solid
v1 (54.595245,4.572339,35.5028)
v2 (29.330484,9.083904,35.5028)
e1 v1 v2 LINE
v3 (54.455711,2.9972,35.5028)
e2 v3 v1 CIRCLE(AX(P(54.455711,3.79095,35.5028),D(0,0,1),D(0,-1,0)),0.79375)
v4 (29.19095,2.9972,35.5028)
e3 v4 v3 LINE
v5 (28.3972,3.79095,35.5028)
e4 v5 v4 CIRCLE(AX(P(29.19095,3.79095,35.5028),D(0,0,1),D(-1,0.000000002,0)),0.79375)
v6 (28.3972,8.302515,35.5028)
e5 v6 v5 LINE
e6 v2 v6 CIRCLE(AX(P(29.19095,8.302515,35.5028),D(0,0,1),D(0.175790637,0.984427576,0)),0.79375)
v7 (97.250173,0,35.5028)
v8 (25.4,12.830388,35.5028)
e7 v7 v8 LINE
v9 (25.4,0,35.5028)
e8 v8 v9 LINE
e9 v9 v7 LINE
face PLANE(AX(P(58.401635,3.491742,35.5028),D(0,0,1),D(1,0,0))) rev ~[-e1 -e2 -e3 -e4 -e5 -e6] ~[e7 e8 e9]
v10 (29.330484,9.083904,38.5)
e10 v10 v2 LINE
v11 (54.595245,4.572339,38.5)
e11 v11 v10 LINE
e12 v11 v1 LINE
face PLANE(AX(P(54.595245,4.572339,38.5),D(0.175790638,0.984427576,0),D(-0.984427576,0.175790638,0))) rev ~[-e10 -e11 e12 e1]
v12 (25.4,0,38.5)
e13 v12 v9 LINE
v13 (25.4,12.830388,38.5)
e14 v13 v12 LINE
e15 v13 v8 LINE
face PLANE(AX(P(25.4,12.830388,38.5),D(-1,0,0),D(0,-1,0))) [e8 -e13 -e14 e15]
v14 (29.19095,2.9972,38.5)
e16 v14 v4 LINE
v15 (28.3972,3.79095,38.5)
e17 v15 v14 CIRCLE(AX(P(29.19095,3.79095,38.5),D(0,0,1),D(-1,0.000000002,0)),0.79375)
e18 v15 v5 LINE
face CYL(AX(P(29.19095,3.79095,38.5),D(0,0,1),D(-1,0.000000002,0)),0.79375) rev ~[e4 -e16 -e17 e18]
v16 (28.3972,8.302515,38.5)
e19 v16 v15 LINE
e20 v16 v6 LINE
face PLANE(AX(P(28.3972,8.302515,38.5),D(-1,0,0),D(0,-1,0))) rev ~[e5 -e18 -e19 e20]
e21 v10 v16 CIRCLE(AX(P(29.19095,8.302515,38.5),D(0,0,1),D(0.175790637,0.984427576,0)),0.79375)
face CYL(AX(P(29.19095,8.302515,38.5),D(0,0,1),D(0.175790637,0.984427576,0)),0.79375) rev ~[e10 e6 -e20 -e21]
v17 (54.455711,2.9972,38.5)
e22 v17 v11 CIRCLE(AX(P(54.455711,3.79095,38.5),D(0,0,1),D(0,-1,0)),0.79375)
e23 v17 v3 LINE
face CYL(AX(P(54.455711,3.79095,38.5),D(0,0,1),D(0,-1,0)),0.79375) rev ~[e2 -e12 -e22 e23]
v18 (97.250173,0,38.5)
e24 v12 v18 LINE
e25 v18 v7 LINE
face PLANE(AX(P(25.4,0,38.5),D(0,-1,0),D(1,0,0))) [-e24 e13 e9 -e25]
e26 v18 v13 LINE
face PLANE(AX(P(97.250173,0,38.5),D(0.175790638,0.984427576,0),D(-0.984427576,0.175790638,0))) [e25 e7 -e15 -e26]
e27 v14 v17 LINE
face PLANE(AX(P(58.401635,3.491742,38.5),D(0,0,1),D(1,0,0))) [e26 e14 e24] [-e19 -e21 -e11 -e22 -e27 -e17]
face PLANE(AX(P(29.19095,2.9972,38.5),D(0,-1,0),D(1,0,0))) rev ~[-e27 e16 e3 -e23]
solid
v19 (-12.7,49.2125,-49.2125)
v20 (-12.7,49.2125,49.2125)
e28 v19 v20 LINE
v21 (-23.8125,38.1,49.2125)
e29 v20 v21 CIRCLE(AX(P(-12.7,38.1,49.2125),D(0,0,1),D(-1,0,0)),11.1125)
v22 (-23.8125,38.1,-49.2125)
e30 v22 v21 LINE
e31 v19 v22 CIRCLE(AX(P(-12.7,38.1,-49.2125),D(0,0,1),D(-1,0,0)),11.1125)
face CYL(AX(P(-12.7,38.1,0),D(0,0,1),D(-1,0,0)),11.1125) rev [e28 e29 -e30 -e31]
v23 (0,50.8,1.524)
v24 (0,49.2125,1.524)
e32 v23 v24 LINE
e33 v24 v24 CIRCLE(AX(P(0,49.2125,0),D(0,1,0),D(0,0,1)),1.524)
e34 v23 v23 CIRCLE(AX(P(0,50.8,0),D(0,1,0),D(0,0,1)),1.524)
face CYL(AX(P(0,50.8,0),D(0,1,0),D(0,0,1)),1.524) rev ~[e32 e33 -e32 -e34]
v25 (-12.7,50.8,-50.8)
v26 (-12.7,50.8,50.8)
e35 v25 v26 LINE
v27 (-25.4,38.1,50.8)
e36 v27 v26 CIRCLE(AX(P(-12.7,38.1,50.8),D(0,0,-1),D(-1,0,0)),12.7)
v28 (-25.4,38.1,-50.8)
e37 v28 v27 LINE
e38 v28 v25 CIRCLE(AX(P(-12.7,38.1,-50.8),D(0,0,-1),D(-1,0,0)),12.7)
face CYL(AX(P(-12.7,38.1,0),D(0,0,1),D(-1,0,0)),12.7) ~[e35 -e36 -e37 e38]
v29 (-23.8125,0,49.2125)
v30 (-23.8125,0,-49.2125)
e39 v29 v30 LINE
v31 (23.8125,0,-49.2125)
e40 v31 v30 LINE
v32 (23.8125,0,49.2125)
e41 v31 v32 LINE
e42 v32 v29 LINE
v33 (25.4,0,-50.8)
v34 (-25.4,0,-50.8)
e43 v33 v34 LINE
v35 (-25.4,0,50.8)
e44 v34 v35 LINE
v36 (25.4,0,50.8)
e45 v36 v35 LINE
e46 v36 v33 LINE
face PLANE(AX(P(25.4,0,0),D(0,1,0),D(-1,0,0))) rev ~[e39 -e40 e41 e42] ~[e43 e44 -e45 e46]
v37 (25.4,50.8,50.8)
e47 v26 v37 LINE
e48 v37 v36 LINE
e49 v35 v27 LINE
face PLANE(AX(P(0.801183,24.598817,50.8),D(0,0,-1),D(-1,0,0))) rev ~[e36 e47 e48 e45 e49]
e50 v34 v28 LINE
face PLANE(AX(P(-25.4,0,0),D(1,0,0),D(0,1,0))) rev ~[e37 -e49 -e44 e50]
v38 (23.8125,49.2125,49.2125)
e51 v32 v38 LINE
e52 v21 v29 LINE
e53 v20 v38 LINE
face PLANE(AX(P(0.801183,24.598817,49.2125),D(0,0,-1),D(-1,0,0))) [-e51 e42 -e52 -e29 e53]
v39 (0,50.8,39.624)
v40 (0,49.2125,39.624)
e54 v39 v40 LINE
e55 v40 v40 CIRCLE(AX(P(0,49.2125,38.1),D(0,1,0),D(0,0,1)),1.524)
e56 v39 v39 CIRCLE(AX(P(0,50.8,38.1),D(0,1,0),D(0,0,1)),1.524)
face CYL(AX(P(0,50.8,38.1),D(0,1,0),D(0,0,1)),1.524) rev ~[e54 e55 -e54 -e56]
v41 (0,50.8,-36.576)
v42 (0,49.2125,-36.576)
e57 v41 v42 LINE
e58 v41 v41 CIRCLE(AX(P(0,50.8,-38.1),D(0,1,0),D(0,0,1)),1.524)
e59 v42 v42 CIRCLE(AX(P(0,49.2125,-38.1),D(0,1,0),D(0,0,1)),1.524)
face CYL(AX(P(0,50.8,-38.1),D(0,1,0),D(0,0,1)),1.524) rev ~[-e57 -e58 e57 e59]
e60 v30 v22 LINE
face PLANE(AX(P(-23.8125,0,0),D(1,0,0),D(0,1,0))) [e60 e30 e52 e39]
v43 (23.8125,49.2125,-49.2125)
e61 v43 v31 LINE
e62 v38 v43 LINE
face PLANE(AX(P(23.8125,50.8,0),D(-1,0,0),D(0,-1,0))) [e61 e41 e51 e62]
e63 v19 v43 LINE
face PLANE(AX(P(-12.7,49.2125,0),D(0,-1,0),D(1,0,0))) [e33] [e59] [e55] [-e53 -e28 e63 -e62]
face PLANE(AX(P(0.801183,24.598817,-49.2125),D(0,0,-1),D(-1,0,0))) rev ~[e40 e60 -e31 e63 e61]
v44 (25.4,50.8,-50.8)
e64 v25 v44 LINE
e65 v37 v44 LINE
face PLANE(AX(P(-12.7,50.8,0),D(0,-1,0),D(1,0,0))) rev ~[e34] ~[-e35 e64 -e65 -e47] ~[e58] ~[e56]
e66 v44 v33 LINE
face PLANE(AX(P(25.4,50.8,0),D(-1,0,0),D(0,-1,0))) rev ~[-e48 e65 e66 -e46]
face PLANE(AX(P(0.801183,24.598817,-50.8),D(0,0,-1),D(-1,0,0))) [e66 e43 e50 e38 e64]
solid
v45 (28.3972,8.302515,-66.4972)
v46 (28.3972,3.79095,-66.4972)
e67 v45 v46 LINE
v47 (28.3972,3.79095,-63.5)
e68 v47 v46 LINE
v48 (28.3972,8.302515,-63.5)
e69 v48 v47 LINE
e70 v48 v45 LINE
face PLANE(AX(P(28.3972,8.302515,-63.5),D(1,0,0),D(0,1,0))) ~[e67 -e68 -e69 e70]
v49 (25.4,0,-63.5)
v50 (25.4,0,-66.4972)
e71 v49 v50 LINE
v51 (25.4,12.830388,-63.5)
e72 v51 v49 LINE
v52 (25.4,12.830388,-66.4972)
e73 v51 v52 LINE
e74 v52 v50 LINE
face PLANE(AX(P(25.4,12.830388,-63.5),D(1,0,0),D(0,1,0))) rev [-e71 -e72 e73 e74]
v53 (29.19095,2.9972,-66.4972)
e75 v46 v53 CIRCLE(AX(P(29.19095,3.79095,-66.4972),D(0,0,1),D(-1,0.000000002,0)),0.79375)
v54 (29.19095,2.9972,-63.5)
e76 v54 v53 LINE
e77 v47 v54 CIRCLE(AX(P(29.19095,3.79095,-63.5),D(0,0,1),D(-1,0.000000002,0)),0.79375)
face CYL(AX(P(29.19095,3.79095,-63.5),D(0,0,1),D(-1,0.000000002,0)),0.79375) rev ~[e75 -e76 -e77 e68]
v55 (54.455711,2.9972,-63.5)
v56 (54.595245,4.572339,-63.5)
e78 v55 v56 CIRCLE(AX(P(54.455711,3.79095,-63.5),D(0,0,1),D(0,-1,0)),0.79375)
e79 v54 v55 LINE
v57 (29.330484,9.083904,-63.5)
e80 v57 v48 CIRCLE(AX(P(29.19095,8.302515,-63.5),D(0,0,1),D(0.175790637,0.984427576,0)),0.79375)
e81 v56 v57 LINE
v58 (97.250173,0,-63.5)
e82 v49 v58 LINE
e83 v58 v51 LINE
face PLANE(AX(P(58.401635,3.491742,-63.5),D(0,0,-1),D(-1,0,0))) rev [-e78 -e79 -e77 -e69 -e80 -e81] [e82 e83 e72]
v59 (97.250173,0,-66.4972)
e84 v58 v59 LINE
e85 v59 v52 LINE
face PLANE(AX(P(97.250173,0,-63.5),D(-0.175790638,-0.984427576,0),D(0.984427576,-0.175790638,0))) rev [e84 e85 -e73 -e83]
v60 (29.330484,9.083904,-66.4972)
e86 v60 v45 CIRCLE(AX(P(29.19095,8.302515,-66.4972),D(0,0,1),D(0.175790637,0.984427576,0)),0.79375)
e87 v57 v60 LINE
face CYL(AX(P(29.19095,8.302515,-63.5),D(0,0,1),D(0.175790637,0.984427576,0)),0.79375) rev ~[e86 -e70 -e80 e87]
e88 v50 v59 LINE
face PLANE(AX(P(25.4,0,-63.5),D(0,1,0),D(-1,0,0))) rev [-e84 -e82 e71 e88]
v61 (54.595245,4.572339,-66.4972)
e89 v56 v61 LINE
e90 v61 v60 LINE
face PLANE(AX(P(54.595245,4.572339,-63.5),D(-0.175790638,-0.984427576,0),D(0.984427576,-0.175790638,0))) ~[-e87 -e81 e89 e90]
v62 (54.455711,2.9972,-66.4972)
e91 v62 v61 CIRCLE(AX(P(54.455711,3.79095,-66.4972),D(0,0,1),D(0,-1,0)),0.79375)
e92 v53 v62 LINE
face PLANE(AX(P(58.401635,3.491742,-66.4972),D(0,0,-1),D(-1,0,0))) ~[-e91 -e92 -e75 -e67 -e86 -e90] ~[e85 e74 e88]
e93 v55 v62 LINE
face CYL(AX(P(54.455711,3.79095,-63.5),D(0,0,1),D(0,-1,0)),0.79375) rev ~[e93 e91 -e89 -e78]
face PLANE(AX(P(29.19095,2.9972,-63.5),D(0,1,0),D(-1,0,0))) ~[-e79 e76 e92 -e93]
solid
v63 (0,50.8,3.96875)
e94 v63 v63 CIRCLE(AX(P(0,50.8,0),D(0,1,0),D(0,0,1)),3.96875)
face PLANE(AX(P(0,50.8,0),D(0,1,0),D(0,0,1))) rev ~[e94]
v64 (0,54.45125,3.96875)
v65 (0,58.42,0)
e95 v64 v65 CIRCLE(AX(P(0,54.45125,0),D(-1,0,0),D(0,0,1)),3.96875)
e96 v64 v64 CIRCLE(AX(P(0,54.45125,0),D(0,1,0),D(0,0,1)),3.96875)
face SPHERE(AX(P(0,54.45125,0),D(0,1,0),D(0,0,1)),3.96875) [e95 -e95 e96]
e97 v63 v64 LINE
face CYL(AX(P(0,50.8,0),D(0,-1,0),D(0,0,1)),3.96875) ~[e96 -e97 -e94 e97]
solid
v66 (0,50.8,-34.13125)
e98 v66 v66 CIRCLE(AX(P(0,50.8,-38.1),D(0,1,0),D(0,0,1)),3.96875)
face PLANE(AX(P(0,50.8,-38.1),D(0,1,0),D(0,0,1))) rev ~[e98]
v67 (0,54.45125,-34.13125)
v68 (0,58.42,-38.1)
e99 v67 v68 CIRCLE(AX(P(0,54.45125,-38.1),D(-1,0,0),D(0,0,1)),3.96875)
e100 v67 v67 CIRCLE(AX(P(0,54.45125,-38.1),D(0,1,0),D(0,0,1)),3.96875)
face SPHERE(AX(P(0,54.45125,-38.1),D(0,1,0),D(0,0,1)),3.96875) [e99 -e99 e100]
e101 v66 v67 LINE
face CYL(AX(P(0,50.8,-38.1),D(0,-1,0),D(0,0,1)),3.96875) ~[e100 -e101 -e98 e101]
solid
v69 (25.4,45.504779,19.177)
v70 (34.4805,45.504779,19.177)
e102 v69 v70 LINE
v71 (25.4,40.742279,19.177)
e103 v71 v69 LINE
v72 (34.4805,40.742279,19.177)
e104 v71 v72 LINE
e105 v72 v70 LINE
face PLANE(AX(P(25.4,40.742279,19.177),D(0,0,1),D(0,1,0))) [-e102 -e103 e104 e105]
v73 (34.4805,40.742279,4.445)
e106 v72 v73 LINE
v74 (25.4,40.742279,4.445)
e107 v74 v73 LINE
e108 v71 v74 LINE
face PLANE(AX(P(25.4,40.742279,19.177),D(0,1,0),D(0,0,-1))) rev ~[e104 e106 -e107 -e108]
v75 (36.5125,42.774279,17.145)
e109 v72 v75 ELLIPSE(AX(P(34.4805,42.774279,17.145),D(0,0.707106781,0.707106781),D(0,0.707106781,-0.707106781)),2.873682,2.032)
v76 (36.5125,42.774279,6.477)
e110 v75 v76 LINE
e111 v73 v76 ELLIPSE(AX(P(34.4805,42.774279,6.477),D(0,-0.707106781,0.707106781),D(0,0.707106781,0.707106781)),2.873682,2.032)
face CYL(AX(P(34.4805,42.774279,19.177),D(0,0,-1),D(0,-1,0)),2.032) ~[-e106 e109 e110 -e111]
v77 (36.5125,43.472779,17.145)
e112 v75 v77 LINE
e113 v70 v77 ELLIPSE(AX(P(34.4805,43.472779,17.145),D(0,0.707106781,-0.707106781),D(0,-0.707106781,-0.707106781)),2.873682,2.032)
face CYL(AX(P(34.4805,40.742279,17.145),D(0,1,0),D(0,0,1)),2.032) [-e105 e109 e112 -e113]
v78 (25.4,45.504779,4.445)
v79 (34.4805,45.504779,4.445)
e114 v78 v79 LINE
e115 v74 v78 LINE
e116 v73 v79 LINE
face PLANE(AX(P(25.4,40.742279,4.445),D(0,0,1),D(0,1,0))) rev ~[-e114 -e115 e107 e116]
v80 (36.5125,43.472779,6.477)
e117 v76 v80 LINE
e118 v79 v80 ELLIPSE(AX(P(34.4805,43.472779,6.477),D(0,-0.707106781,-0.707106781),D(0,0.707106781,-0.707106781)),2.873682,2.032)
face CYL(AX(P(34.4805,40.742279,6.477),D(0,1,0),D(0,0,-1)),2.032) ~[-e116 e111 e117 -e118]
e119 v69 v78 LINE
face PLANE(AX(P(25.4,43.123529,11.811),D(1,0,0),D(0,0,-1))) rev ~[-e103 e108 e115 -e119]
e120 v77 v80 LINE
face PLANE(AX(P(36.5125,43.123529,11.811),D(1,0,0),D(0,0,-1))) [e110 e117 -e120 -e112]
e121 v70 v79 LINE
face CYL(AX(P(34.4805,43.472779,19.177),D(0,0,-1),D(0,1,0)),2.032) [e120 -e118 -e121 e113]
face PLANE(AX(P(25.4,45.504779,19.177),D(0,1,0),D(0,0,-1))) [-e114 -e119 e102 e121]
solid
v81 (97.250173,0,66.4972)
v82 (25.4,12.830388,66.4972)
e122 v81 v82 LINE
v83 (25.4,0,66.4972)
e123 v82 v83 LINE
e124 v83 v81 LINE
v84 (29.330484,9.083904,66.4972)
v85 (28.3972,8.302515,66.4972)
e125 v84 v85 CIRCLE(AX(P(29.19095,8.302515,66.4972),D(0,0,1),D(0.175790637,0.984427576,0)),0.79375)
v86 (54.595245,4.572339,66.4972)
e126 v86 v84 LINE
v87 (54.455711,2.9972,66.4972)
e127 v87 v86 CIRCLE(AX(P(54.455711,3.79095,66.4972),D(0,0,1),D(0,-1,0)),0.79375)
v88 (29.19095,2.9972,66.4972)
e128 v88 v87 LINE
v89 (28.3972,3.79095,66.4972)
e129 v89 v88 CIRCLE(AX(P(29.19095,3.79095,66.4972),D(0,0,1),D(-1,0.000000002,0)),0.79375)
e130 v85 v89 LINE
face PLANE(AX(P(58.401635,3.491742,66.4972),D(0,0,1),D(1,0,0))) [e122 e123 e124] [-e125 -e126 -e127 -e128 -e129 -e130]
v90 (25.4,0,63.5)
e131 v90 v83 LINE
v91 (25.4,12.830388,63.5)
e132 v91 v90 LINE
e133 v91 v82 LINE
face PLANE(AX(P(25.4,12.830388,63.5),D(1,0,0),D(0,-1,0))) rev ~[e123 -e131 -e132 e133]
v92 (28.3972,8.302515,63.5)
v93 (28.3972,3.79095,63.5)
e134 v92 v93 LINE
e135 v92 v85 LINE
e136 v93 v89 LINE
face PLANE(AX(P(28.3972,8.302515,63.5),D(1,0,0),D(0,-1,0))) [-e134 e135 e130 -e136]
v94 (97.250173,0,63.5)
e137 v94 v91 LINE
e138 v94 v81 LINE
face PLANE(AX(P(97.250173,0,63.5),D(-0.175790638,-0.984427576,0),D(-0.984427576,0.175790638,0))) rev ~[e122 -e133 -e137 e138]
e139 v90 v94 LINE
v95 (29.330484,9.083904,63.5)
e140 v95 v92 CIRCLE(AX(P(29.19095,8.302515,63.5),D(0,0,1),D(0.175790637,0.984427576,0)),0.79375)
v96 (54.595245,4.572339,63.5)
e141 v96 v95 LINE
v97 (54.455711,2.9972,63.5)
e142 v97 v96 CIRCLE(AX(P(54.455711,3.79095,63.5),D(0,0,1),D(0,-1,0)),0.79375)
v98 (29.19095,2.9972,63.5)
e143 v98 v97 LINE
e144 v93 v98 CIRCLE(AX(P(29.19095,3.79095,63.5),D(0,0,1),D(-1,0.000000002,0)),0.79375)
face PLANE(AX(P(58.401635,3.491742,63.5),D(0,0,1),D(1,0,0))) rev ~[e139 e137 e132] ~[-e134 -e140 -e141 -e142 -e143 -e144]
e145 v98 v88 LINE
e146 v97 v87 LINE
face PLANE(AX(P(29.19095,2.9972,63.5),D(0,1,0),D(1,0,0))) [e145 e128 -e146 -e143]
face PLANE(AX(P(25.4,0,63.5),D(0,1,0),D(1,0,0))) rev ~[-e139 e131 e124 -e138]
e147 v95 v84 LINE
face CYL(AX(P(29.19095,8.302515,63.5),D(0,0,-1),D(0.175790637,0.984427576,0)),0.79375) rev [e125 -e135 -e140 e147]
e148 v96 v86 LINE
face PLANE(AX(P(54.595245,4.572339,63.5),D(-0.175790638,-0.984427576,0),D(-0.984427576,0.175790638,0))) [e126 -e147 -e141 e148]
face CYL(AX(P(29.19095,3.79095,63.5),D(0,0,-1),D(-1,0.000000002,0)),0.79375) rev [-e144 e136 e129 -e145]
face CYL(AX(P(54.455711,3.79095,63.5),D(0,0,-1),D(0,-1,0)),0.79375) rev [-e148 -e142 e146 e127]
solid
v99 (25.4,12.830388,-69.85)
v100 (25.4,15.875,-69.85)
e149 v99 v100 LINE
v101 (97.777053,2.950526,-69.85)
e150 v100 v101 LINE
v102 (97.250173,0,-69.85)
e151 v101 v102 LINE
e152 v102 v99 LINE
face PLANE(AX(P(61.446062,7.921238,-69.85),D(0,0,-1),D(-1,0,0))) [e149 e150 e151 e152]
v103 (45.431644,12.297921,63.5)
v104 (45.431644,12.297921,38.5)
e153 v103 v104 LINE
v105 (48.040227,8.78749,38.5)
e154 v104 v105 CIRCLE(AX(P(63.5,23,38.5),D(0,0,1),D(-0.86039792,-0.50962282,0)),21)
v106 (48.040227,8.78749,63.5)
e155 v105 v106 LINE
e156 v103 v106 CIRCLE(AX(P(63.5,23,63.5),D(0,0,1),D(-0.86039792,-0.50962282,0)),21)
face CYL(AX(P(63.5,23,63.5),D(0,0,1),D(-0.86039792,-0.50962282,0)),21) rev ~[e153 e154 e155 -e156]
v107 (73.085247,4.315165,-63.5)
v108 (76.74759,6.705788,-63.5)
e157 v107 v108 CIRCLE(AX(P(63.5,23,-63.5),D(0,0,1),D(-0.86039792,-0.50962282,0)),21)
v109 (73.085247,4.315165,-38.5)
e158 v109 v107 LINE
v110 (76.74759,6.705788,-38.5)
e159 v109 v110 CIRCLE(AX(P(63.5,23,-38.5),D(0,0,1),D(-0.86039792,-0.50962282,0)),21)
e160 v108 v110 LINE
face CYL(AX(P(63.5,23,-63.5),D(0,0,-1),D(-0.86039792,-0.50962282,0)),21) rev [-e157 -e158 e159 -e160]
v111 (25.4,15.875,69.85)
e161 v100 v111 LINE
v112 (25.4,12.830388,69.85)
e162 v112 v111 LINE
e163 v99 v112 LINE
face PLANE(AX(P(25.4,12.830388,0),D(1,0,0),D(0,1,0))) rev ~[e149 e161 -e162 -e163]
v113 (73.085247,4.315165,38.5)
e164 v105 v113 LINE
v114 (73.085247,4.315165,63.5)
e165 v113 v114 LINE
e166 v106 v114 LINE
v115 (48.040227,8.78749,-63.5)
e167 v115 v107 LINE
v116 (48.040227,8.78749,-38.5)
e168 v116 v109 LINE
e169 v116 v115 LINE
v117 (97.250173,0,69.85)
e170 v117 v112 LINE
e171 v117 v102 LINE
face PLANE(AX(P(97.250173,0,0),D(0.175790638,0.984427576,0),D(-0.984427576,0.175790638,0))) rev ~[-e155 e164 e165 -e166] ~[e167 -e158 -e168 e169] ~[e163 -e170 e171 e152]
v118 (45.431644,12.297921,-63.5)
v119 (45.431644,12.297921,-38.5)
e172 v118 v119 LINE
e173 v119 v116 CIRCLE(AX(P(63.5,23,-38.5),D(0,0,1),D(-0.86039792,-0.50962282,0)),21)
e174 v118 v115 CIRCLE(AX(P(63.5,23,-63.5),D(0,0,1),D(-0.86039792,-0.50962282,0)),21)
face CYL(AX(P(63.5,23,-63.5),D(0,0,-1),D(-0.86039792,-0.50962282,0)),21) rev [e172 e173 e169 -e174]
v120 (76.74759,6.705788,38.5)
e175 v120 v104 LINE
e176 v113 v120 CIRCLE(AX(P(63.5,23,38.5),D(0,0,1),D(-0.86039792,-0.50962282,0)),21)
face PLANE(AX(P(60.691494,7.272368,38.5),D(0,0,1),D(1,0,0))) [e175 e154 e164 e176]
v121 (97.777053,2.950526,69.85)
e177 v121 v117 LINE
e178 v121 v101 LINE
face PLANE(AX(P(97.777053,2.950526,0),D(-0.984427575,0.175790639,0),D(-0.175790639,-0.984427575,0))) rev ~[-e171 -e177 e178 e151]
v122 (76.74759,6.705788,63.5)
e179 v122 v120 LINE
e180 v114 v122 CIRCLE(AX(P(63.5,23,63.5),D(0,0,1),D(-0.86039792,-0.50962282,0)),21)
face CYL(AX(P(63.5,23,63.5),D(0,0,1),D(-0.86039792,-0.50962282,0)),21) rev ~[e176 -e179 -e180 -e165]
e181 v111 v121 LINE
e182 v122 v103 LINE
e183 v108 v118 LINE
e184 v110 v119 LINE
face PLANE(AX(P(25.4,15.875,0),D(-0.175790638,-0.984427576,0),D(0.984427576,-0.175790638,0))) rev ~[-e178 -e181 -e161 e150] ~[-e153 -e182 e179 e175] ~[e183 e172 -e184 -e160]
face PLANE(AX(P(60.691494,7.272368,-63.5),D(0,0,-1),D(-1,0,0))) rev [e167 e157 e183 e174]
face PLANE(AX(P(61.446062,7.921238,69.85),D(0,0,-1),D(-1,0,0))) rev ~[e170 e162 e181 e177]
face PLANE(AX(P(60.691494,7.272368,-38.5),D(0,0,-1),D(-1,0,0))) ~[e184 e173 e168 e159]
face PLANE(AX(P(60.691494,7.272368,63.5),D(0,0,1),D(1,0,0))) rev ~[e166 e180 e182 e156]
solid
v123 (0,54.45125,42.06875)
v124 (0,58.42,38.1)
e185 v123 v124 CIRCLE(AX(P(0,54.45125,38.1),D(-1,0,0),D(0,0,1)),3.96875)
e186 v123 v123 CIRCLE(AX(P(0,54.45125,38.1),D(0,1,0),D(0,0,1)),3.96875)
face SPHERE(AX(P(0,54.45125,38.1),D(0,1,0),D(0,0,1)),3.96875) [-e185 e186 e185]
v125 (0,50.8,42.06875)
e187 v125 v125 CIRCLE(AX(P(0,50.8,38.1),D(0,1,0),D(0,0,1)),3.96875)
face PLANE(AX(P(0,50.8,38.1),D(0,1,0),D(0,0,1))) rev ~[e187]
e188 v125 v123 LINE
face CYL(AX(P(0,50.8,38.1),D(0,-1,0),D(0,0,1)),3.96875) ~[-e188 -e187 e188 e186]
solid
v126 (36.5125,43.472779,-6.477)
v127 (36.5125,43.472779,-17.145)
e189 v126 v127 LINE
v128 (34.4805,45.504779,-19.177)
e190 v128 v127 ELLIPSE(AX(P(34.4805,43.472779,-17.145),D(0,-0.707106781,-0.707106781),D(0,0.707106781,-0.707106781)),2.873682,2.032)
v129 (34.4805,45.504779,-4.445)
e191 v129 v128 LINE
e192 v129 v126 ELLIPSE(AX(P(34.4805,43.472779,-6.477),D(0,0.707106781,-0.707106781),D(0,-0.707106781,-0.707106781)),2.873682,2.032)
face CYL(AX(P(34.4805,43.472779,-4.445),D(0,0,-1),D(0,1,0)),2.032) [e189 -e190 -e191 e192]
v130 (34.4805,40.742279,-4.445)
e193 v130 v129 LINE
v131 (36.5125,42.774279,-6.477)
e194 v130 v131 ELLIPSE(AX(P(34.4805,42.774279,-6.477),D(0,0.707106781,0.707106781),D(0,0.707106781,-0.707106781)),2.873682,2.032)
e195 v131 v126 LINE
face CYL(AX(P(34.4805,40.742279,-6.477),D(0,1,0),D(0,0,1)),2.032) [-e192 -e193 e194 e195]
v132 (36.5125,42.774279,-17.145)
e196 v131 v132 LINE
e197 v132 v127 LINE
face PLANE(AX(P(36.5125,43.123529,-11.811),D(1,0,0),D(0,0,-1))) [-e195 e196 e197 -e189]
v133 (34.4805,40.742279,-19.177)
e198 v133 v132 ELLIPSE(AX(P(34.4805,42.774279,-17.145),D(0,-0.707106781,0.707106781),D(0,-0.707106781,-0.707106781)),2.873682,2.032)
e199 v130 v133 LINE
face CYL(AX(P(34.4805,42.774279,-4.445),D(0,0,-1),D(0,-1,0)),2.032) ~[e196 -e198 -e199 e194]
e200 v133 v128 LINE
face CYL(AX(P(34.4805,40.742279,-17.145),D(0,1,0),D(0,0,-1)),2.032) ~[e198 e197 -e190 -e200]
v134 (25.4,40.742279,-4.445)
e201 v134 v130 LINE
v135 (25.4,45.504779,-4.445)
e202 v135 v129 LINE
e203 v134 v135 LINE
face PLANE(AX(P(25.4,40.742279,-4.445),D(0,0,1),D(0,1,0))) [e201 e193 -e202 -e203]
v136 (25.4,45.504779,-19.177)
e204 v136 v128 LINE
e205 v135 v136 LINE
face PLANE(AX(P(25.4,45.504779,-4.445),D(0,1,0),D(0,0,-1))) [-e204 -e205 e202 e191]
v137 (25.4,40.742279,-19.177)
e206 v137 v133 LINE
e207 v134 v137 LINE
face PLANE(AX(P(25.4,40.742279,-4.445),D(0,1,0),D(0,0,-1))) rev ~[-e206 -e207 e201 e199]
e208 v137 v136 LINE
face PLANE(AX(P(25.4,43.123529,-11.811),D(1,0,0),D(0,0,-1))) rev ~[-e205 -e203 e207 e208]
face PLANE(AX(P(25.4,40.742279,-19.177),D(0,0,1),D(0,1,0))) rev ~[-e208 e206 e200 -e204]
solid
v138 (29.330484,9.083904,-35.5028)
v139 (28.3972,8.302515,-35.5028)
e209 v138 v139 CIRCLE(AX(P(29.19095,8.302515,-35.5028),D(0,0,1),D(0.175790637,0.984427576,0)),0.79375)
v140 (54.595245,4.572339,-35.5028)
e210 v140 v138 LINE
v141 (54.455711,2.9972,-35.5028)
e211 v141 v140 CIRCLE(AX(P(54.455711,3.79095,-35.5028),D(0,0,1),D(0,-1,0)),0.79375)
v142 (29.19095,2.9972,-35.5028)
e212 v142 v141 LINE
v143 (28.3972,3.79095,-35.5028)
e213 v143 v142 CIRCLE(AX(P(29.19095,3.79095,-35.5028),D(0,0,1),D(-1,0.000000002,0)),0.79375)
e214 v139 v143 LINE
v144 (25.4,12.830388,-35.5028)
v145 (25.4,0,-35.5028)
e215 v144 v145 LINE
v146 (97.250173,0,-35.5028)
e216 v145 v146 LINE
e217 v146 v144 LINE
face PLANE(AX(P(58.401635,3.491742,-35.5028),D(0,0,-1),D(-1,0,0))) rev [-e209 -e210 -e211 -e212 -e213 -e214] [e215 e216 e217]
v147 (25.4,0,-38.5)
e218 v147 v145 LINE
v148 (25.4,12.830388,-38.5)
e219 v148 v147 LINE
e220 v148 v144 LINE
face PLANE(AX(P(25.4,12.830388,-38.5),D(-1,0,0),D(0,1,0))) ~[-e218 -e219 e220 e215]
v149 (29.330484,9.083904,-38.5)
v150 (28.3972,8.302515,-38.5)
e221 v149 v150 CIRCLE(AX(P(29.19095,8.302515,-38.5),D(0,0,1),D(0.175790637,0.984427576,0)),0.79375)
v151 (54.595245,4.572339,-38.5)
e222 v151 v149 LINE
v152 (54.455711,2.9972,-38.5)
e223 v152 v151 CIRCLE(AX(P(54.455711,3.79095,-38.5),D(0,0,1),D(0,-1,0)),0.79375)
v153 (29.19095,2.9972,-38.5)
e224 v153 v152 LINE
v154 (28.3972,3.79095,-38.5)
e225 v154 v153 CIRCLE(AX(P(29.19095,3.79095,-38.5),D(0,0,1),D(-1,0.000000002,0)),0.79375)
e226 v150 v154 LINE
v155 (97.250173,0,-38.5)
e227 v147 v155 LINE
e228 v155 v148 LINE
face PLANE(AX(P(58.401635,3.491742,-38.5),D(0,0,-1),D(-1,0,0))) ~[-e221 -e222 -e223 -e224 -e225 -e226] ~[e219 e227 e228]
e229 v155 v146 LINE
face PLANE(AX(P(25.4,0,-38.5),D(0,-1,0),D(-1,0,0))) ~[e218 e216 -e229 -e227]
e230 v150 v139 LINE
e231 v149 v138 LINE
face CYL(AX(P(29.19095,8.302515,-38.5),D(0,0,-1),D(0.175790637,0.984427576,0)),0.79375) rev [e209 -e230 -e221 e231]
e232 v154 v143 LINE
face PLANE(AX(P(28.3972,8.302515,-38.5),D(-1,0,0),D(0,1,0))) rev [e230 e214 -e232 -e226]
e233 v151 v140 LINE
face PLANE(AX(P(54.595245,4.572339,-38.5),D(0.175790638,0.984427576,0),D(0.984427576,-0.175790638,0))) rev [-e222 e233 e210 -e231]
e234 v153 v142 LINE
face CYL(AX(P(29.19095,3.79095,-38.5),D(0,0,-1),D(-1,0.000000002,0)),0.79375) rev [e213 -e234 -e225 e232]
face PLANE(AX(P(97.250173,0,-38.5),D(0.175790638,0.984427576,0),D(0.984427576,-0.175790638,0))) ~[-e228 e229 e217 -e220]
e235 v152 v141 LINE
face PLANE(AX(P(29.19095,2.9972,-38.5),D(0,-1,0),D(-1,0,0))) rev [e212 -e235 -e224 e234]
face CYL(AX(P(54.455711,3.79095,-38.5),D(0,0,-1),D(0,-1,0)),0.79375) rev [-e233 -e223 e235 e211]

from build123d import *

# Parameters (mm, degrees)
EXTRUDE1_DEPTH   = 50.8
SHELL1_T         = -1.5875
EXTRUDE2_REACH   = 52.8
SKETCH2_R        = 1.524
EXTRUDE3_DEPTH   = 69.85
EXTRUDE4_DEPTH   = 25
SKETCH5_W        = 14.732
SKETCH5_H        = 4.7625
EXTRUDE5_DEPTH   = 11.1125
EXTRUDE5_2_DEPTH = 11.1125
FILLET3_R        = 2.032
FILLET4_R        = 2.032
SKETCH6_R        = 3.96875
EXTRUDE6_DEPTH   = 7.62
EXTRUDE6_2_DEPTH = 7.62
EXTRUDE6_3_DEPTH = 7.62
FILLET5_R        = 3.96875
FILLET6_R        = 3.96875
FILLET7_R        = 3.96875
EXTRUDE7_DEPTH   = 2.9972
EXTRUDE8_DEPTH   = 2.9972


with BuildPart() as part:
    # Sketch1 → Extrude1 (new body, symmetric)
    with BuildSketch(Plane.XY):
        with BuildLine():
            Line((-12.7, 50.8), (25.4, 50.8))
            Line((25.4, 50.8), (25.4, 0))
            Line((25.4, 0), (-25.4, 0))
            Line((-25.4, 0), (-25.4, 38.1))
            ThreePointArc((-25.4, 38.1), (-21.680256121, 47.080256121), (-12.7, 50.8))
        make_face()
    extrude(amount=EXTRUDE1_DEPTH, both=True)

    # Shell1
    shell1_openings = [part.faces().sort_by_distance(p)[0] for p in [
        (0, 0, 0),
    ]]
    offset(amount=SHELL1_T, openings=shell1_openings, kind=Kind.INTERSECTION)

    # Sketch2 → Extrude2 (cut, up to next)
    with BuildSketch(Plane(origin=(0, 50.8, 0), x_dir=(-1, 0, 0), z_dir=(0, 1, 0)), mode=Mode.PRIVATE) as extrude2_sk1:
        with Locations(Location((0, 0, 0), (0, 0, 90))):  # turned: the seam where the file's is
            Circle(SKETCH2_R)
    extrude2_tool1 = extrude(extrude2_sk1.sketch, amount=-EXTRUDE2_REACH, mode=Mode.PRIVATE) & part.part
    add(extrude2_tool1.solids().sort_by_distance((0, 50.8, 0))[0], mode=Mode.SUBTRACT)
    # Sketch2 → Extrude2 (cut, up to next)
    with BuildSketch(Plane(origin=(0, 50.8, 0), x_dir=(-1, 0, 0), z_dir=(0, 1, 0)), mode=Mode.PRIVATE) as extrude2_sk2:
        with Locations(Location((0, -38.1, 0), (0, 0, 90))):  # turned: the seam where the file's is
            Circle(SKETCH2_R)
    extrude2_tool2 = extrude(extrude2_sk2.sketch, amount=-EXTRUDE2_REACH, mode=Mode.PRIVATE) & part.part
    add(extrude2_tool2.solids().sort_by_distance((0, 50.8, -38.1))[0], mode=Mode.SUBTRACT)
    # Sketch2 → Extrude2 (cut, up to next)
    with BuildSketch(Plane(origin=(0, 50.8, 0), x_dir=(-1, 0, 0), z_dir=(0, 1, 0)), mode=Mode.PRIVATE) as extrude2_sk3:
        with Locations(Location((0, 38.1, 0), (0, 0, 90))):  # turned: the seam where the file's is
            Circle(SKETCH2_R)
    extrude2_tool3 = extrude(extrude2_sk3.sketch, amount=-EXTRUDE2_REACH, mode=Mode.PRIVATE) & part.part
    add(extrude2_tool3.solids().sort_by_distance((0, 50.8, 38.1))[0], mode=Mode.SUBTRACT)


with BuildPart() as body_2:
    # Sketch3 → Extrude3 (new body, symmetric)
    with BuildSketch(Plane.XY):
        Polygon((25.4, 15.875), (97.777052556, 2.950526329), (97.250172854, 0), (25.4, 12.83038801), align=None)
    extrude(amount=EXTRUDE3_DEPTH, both=True)

    # Sketch4 → Extrude4 (cut)
    with BuildSketch(Plane.XY.offset(63.5)):
        with BuildLine():
            Line((76.747589944, 6.70578751), (45.431643678, 12.297920772))
            ThreePointArc((45.431643678, 12.297920772), (59.808396592, 2.327020914), (76.747589944, 6.70578751))
        make_face()
    extrude4 = extrude(amount=-EXTRUDE4_DEPTH, mode=Mode.SUBTRACT)

    # Mirror1: Extrude4 across plane
    add(extrude4.mirror(Plane.XY), mode=Mode.SUBTRACT)


with BuildPart() as body_3:
    # Sketch5 → Extrude5 (new body)
    with BuildSketch(Plane(origin=(25.4, 0, 0), x_dir=(0, 0, -1), z_dir=(1, 0, 0))):
        with Locations((-11.811, 43.123528776)):
            Rectangle(SKETCH5_W, SKETCH5_H)
    extrude(amount=EXTRUDE5_DEPTH)

    # Fillet3
    fillet3_edges = [body_3.edges().sort_by_distance(p)[0] for p in [
        (36.5125, 43.123528776, 4.445),
        (36.5125, 45.504778776, 11.811),
        (36.5125, 43.123528776, 19.177),
        (36.5125, 40.742278776, 11.811),
    ]]
    fillet(fillet3_edges, radius=FILLET3_R)


with BuildPart() as body_4:
    # Sketch5 → Extrude5 2 (new body)
    with BuildSketch(Plane(origin=(25.4, 0, 0), x_dir=(0, 0, -1), z_dir=(1, 0, 0))):
        with Locations((11.811, 43.123528776)):
            Rectangle(SKETCH5_W, SKETCH5_H)
    extrude(amount=EXTRUDE5_2_DEPTH)

    # Fillet4
    fillet4_edges = [body_4.edges().sort_by_distance(p)[0] for p in [
        (36.5125, 40.742278776, -11.811),
        (36.5125, 43.123528776, -19.177),
        (36.5125, 45.504778776, -11.811),
        (36.5125, 43.123528776, -4.445),
    ]]
    fillet(fillet4_edges, radius=FILLET4_R)


with BuildPart() as body_5:
    # Sketch6 → Extrude6 (new body)
    with BuildSketch(Plane(origin=(0, 50.8, 0), x_dir=(1, 0, 0), z_dir=(0, 1, 0))):
        with Locations(Location((0, 38.1, 0), (0, 0, 270))):  # turned: the seam where the file's is
            Circle(SKETCH6_R)
    extrude(amount=EXTRUDE6_DEPTH)

    # Fillet7
    fillet7_edges = [body_5.edges().sort_by_distance(p)[0] for p in [
        (0, 58.42, -42.06875),
    ]]
    fillet(fillet7_edges, radius=FILLET7_R)


with BuildPart() as body_6:
    # Sketch6 → Extrude6 2 (new body)
    with BuildSketch(Plane(origin=(0, 50.8, 0), x_dir=(1, 0, 0), z_dir=(0, 1, 0))):
        with Locations(Location((0, 0, 0), (0, 0, 270))):  # turned: the seam where the file's is
            Circle(SKETCH6_R)
    extrude(amount=EXTRUDE6_2_DEPTH)

    # Fillet6
    fillet6_edges = [body_6.edges().sort_by_distance(p)[0] for p in [
        (0, 58.42, -3.96875),
    ]]
    fillet(fillet6_edges, radius=FILLET6_R)


with BuildPart() as body_7:
    # Sketch6 → Extrude6 3 (new body)
    with BuildSketch(Plane(origin=(0, 50.8, 0), x_dir=(1, 0, 0), z_dir=(0, 1, 0))):
        with Locations(Location((0, -38.1, 0), (0, 0, 270))):  # turned: the seam where the file's is
            Circle(SKETCH6_R)
    extrude(amount=EXTRUDE6_3_DEPTH)

    # Fillet5
    fillet5_edges = [body_7.edges().sort_by_distance(p)[0] for p in [
        (0, 58.42, 34.13125),
    ]]
    fillet(fillet5_edges, radius=FILLET5_R)


with BuildPart() as body_8:
    # Sketch7 → Extrude7 (new body)
    with BuildSketch(Plane.XY.offset(63.5)):
        Polygon((25.4, 12.83038801), (25.4, 0), (97.250172854, 0), align=None)
        with BuildLine():
            Line((54.595245135, 4.572339388), (29.330483819, 9.083903909))
            ThreePointArc((29.330483819, 9.083903909), (28.681399172, 8.911117031), (28.3972, 8.302514521))
            Line((28.3972, 8.302514521), (28.3972, 3.79095))
            ThreePointArc((28.3972, 3.79095), (28.629683992, 3.229683992), (29.19095, 2.9972))
            Line((29.19095, 2.9972), (54.455711316, 2.9972))
            ThreePointArc((54.455711316, 2.9972), (55.246365124, 3.720909884), (54.595245135, 4.572339388))
        make_face(mode=Mode.SUBTRACT)
    extrude(amount=EXTRUDE7_DEPTH)


with BuildPart() as body_9:
    # Sketch8 → Extrude8 (new body)
    with BuildSketch(Plane.XY.offset(38.5)):
        Polygon((97.250172854, 0), (25.4, 12.83038801), (25.4, 0), align=None)
        with BuildLine():
            Line((28.3972, 8.302514521), (28.3972, 3.79095))
            ThreePointArc((28.3972, 3.79095), (28.629683992, 3.229683992), (29.19095, 2.9972))
            Line((29.19095, 2.9972), (54.455711316, 2.9972))
            ThreePointArc((54.455711316, 2.9972), (55.246365124, 3.720909884), (54.595245135, 4.572339388))
            Line((54.595245135, 4.572339388), (29.330483819, 9.083903909))
            ThreePointArc((29.330483819, 9.083903909), (28.681399172, 8.911117031), (28.3972, 8.302514521))
        make_face(mode=Mode.SUBTRACT)
    extrude(amount=-EXTRUDE8_DEPTH)


with BuildPart() as body_10:
    # Mirror2: mirrored copy
    add(body_8.part.mirror(Plane.XY))


with BuildPart() as body_11:
    # Mirror2 2: mirrored copy
    add(body_9.part.mirror(Plane.XY))


solid = Compound([part.part, body_2.part, body_3.part, body_4.part, body_5.part, body_6.part, body_7.part, body_8.part, body_9.part, body_10.part, body_11.part])
